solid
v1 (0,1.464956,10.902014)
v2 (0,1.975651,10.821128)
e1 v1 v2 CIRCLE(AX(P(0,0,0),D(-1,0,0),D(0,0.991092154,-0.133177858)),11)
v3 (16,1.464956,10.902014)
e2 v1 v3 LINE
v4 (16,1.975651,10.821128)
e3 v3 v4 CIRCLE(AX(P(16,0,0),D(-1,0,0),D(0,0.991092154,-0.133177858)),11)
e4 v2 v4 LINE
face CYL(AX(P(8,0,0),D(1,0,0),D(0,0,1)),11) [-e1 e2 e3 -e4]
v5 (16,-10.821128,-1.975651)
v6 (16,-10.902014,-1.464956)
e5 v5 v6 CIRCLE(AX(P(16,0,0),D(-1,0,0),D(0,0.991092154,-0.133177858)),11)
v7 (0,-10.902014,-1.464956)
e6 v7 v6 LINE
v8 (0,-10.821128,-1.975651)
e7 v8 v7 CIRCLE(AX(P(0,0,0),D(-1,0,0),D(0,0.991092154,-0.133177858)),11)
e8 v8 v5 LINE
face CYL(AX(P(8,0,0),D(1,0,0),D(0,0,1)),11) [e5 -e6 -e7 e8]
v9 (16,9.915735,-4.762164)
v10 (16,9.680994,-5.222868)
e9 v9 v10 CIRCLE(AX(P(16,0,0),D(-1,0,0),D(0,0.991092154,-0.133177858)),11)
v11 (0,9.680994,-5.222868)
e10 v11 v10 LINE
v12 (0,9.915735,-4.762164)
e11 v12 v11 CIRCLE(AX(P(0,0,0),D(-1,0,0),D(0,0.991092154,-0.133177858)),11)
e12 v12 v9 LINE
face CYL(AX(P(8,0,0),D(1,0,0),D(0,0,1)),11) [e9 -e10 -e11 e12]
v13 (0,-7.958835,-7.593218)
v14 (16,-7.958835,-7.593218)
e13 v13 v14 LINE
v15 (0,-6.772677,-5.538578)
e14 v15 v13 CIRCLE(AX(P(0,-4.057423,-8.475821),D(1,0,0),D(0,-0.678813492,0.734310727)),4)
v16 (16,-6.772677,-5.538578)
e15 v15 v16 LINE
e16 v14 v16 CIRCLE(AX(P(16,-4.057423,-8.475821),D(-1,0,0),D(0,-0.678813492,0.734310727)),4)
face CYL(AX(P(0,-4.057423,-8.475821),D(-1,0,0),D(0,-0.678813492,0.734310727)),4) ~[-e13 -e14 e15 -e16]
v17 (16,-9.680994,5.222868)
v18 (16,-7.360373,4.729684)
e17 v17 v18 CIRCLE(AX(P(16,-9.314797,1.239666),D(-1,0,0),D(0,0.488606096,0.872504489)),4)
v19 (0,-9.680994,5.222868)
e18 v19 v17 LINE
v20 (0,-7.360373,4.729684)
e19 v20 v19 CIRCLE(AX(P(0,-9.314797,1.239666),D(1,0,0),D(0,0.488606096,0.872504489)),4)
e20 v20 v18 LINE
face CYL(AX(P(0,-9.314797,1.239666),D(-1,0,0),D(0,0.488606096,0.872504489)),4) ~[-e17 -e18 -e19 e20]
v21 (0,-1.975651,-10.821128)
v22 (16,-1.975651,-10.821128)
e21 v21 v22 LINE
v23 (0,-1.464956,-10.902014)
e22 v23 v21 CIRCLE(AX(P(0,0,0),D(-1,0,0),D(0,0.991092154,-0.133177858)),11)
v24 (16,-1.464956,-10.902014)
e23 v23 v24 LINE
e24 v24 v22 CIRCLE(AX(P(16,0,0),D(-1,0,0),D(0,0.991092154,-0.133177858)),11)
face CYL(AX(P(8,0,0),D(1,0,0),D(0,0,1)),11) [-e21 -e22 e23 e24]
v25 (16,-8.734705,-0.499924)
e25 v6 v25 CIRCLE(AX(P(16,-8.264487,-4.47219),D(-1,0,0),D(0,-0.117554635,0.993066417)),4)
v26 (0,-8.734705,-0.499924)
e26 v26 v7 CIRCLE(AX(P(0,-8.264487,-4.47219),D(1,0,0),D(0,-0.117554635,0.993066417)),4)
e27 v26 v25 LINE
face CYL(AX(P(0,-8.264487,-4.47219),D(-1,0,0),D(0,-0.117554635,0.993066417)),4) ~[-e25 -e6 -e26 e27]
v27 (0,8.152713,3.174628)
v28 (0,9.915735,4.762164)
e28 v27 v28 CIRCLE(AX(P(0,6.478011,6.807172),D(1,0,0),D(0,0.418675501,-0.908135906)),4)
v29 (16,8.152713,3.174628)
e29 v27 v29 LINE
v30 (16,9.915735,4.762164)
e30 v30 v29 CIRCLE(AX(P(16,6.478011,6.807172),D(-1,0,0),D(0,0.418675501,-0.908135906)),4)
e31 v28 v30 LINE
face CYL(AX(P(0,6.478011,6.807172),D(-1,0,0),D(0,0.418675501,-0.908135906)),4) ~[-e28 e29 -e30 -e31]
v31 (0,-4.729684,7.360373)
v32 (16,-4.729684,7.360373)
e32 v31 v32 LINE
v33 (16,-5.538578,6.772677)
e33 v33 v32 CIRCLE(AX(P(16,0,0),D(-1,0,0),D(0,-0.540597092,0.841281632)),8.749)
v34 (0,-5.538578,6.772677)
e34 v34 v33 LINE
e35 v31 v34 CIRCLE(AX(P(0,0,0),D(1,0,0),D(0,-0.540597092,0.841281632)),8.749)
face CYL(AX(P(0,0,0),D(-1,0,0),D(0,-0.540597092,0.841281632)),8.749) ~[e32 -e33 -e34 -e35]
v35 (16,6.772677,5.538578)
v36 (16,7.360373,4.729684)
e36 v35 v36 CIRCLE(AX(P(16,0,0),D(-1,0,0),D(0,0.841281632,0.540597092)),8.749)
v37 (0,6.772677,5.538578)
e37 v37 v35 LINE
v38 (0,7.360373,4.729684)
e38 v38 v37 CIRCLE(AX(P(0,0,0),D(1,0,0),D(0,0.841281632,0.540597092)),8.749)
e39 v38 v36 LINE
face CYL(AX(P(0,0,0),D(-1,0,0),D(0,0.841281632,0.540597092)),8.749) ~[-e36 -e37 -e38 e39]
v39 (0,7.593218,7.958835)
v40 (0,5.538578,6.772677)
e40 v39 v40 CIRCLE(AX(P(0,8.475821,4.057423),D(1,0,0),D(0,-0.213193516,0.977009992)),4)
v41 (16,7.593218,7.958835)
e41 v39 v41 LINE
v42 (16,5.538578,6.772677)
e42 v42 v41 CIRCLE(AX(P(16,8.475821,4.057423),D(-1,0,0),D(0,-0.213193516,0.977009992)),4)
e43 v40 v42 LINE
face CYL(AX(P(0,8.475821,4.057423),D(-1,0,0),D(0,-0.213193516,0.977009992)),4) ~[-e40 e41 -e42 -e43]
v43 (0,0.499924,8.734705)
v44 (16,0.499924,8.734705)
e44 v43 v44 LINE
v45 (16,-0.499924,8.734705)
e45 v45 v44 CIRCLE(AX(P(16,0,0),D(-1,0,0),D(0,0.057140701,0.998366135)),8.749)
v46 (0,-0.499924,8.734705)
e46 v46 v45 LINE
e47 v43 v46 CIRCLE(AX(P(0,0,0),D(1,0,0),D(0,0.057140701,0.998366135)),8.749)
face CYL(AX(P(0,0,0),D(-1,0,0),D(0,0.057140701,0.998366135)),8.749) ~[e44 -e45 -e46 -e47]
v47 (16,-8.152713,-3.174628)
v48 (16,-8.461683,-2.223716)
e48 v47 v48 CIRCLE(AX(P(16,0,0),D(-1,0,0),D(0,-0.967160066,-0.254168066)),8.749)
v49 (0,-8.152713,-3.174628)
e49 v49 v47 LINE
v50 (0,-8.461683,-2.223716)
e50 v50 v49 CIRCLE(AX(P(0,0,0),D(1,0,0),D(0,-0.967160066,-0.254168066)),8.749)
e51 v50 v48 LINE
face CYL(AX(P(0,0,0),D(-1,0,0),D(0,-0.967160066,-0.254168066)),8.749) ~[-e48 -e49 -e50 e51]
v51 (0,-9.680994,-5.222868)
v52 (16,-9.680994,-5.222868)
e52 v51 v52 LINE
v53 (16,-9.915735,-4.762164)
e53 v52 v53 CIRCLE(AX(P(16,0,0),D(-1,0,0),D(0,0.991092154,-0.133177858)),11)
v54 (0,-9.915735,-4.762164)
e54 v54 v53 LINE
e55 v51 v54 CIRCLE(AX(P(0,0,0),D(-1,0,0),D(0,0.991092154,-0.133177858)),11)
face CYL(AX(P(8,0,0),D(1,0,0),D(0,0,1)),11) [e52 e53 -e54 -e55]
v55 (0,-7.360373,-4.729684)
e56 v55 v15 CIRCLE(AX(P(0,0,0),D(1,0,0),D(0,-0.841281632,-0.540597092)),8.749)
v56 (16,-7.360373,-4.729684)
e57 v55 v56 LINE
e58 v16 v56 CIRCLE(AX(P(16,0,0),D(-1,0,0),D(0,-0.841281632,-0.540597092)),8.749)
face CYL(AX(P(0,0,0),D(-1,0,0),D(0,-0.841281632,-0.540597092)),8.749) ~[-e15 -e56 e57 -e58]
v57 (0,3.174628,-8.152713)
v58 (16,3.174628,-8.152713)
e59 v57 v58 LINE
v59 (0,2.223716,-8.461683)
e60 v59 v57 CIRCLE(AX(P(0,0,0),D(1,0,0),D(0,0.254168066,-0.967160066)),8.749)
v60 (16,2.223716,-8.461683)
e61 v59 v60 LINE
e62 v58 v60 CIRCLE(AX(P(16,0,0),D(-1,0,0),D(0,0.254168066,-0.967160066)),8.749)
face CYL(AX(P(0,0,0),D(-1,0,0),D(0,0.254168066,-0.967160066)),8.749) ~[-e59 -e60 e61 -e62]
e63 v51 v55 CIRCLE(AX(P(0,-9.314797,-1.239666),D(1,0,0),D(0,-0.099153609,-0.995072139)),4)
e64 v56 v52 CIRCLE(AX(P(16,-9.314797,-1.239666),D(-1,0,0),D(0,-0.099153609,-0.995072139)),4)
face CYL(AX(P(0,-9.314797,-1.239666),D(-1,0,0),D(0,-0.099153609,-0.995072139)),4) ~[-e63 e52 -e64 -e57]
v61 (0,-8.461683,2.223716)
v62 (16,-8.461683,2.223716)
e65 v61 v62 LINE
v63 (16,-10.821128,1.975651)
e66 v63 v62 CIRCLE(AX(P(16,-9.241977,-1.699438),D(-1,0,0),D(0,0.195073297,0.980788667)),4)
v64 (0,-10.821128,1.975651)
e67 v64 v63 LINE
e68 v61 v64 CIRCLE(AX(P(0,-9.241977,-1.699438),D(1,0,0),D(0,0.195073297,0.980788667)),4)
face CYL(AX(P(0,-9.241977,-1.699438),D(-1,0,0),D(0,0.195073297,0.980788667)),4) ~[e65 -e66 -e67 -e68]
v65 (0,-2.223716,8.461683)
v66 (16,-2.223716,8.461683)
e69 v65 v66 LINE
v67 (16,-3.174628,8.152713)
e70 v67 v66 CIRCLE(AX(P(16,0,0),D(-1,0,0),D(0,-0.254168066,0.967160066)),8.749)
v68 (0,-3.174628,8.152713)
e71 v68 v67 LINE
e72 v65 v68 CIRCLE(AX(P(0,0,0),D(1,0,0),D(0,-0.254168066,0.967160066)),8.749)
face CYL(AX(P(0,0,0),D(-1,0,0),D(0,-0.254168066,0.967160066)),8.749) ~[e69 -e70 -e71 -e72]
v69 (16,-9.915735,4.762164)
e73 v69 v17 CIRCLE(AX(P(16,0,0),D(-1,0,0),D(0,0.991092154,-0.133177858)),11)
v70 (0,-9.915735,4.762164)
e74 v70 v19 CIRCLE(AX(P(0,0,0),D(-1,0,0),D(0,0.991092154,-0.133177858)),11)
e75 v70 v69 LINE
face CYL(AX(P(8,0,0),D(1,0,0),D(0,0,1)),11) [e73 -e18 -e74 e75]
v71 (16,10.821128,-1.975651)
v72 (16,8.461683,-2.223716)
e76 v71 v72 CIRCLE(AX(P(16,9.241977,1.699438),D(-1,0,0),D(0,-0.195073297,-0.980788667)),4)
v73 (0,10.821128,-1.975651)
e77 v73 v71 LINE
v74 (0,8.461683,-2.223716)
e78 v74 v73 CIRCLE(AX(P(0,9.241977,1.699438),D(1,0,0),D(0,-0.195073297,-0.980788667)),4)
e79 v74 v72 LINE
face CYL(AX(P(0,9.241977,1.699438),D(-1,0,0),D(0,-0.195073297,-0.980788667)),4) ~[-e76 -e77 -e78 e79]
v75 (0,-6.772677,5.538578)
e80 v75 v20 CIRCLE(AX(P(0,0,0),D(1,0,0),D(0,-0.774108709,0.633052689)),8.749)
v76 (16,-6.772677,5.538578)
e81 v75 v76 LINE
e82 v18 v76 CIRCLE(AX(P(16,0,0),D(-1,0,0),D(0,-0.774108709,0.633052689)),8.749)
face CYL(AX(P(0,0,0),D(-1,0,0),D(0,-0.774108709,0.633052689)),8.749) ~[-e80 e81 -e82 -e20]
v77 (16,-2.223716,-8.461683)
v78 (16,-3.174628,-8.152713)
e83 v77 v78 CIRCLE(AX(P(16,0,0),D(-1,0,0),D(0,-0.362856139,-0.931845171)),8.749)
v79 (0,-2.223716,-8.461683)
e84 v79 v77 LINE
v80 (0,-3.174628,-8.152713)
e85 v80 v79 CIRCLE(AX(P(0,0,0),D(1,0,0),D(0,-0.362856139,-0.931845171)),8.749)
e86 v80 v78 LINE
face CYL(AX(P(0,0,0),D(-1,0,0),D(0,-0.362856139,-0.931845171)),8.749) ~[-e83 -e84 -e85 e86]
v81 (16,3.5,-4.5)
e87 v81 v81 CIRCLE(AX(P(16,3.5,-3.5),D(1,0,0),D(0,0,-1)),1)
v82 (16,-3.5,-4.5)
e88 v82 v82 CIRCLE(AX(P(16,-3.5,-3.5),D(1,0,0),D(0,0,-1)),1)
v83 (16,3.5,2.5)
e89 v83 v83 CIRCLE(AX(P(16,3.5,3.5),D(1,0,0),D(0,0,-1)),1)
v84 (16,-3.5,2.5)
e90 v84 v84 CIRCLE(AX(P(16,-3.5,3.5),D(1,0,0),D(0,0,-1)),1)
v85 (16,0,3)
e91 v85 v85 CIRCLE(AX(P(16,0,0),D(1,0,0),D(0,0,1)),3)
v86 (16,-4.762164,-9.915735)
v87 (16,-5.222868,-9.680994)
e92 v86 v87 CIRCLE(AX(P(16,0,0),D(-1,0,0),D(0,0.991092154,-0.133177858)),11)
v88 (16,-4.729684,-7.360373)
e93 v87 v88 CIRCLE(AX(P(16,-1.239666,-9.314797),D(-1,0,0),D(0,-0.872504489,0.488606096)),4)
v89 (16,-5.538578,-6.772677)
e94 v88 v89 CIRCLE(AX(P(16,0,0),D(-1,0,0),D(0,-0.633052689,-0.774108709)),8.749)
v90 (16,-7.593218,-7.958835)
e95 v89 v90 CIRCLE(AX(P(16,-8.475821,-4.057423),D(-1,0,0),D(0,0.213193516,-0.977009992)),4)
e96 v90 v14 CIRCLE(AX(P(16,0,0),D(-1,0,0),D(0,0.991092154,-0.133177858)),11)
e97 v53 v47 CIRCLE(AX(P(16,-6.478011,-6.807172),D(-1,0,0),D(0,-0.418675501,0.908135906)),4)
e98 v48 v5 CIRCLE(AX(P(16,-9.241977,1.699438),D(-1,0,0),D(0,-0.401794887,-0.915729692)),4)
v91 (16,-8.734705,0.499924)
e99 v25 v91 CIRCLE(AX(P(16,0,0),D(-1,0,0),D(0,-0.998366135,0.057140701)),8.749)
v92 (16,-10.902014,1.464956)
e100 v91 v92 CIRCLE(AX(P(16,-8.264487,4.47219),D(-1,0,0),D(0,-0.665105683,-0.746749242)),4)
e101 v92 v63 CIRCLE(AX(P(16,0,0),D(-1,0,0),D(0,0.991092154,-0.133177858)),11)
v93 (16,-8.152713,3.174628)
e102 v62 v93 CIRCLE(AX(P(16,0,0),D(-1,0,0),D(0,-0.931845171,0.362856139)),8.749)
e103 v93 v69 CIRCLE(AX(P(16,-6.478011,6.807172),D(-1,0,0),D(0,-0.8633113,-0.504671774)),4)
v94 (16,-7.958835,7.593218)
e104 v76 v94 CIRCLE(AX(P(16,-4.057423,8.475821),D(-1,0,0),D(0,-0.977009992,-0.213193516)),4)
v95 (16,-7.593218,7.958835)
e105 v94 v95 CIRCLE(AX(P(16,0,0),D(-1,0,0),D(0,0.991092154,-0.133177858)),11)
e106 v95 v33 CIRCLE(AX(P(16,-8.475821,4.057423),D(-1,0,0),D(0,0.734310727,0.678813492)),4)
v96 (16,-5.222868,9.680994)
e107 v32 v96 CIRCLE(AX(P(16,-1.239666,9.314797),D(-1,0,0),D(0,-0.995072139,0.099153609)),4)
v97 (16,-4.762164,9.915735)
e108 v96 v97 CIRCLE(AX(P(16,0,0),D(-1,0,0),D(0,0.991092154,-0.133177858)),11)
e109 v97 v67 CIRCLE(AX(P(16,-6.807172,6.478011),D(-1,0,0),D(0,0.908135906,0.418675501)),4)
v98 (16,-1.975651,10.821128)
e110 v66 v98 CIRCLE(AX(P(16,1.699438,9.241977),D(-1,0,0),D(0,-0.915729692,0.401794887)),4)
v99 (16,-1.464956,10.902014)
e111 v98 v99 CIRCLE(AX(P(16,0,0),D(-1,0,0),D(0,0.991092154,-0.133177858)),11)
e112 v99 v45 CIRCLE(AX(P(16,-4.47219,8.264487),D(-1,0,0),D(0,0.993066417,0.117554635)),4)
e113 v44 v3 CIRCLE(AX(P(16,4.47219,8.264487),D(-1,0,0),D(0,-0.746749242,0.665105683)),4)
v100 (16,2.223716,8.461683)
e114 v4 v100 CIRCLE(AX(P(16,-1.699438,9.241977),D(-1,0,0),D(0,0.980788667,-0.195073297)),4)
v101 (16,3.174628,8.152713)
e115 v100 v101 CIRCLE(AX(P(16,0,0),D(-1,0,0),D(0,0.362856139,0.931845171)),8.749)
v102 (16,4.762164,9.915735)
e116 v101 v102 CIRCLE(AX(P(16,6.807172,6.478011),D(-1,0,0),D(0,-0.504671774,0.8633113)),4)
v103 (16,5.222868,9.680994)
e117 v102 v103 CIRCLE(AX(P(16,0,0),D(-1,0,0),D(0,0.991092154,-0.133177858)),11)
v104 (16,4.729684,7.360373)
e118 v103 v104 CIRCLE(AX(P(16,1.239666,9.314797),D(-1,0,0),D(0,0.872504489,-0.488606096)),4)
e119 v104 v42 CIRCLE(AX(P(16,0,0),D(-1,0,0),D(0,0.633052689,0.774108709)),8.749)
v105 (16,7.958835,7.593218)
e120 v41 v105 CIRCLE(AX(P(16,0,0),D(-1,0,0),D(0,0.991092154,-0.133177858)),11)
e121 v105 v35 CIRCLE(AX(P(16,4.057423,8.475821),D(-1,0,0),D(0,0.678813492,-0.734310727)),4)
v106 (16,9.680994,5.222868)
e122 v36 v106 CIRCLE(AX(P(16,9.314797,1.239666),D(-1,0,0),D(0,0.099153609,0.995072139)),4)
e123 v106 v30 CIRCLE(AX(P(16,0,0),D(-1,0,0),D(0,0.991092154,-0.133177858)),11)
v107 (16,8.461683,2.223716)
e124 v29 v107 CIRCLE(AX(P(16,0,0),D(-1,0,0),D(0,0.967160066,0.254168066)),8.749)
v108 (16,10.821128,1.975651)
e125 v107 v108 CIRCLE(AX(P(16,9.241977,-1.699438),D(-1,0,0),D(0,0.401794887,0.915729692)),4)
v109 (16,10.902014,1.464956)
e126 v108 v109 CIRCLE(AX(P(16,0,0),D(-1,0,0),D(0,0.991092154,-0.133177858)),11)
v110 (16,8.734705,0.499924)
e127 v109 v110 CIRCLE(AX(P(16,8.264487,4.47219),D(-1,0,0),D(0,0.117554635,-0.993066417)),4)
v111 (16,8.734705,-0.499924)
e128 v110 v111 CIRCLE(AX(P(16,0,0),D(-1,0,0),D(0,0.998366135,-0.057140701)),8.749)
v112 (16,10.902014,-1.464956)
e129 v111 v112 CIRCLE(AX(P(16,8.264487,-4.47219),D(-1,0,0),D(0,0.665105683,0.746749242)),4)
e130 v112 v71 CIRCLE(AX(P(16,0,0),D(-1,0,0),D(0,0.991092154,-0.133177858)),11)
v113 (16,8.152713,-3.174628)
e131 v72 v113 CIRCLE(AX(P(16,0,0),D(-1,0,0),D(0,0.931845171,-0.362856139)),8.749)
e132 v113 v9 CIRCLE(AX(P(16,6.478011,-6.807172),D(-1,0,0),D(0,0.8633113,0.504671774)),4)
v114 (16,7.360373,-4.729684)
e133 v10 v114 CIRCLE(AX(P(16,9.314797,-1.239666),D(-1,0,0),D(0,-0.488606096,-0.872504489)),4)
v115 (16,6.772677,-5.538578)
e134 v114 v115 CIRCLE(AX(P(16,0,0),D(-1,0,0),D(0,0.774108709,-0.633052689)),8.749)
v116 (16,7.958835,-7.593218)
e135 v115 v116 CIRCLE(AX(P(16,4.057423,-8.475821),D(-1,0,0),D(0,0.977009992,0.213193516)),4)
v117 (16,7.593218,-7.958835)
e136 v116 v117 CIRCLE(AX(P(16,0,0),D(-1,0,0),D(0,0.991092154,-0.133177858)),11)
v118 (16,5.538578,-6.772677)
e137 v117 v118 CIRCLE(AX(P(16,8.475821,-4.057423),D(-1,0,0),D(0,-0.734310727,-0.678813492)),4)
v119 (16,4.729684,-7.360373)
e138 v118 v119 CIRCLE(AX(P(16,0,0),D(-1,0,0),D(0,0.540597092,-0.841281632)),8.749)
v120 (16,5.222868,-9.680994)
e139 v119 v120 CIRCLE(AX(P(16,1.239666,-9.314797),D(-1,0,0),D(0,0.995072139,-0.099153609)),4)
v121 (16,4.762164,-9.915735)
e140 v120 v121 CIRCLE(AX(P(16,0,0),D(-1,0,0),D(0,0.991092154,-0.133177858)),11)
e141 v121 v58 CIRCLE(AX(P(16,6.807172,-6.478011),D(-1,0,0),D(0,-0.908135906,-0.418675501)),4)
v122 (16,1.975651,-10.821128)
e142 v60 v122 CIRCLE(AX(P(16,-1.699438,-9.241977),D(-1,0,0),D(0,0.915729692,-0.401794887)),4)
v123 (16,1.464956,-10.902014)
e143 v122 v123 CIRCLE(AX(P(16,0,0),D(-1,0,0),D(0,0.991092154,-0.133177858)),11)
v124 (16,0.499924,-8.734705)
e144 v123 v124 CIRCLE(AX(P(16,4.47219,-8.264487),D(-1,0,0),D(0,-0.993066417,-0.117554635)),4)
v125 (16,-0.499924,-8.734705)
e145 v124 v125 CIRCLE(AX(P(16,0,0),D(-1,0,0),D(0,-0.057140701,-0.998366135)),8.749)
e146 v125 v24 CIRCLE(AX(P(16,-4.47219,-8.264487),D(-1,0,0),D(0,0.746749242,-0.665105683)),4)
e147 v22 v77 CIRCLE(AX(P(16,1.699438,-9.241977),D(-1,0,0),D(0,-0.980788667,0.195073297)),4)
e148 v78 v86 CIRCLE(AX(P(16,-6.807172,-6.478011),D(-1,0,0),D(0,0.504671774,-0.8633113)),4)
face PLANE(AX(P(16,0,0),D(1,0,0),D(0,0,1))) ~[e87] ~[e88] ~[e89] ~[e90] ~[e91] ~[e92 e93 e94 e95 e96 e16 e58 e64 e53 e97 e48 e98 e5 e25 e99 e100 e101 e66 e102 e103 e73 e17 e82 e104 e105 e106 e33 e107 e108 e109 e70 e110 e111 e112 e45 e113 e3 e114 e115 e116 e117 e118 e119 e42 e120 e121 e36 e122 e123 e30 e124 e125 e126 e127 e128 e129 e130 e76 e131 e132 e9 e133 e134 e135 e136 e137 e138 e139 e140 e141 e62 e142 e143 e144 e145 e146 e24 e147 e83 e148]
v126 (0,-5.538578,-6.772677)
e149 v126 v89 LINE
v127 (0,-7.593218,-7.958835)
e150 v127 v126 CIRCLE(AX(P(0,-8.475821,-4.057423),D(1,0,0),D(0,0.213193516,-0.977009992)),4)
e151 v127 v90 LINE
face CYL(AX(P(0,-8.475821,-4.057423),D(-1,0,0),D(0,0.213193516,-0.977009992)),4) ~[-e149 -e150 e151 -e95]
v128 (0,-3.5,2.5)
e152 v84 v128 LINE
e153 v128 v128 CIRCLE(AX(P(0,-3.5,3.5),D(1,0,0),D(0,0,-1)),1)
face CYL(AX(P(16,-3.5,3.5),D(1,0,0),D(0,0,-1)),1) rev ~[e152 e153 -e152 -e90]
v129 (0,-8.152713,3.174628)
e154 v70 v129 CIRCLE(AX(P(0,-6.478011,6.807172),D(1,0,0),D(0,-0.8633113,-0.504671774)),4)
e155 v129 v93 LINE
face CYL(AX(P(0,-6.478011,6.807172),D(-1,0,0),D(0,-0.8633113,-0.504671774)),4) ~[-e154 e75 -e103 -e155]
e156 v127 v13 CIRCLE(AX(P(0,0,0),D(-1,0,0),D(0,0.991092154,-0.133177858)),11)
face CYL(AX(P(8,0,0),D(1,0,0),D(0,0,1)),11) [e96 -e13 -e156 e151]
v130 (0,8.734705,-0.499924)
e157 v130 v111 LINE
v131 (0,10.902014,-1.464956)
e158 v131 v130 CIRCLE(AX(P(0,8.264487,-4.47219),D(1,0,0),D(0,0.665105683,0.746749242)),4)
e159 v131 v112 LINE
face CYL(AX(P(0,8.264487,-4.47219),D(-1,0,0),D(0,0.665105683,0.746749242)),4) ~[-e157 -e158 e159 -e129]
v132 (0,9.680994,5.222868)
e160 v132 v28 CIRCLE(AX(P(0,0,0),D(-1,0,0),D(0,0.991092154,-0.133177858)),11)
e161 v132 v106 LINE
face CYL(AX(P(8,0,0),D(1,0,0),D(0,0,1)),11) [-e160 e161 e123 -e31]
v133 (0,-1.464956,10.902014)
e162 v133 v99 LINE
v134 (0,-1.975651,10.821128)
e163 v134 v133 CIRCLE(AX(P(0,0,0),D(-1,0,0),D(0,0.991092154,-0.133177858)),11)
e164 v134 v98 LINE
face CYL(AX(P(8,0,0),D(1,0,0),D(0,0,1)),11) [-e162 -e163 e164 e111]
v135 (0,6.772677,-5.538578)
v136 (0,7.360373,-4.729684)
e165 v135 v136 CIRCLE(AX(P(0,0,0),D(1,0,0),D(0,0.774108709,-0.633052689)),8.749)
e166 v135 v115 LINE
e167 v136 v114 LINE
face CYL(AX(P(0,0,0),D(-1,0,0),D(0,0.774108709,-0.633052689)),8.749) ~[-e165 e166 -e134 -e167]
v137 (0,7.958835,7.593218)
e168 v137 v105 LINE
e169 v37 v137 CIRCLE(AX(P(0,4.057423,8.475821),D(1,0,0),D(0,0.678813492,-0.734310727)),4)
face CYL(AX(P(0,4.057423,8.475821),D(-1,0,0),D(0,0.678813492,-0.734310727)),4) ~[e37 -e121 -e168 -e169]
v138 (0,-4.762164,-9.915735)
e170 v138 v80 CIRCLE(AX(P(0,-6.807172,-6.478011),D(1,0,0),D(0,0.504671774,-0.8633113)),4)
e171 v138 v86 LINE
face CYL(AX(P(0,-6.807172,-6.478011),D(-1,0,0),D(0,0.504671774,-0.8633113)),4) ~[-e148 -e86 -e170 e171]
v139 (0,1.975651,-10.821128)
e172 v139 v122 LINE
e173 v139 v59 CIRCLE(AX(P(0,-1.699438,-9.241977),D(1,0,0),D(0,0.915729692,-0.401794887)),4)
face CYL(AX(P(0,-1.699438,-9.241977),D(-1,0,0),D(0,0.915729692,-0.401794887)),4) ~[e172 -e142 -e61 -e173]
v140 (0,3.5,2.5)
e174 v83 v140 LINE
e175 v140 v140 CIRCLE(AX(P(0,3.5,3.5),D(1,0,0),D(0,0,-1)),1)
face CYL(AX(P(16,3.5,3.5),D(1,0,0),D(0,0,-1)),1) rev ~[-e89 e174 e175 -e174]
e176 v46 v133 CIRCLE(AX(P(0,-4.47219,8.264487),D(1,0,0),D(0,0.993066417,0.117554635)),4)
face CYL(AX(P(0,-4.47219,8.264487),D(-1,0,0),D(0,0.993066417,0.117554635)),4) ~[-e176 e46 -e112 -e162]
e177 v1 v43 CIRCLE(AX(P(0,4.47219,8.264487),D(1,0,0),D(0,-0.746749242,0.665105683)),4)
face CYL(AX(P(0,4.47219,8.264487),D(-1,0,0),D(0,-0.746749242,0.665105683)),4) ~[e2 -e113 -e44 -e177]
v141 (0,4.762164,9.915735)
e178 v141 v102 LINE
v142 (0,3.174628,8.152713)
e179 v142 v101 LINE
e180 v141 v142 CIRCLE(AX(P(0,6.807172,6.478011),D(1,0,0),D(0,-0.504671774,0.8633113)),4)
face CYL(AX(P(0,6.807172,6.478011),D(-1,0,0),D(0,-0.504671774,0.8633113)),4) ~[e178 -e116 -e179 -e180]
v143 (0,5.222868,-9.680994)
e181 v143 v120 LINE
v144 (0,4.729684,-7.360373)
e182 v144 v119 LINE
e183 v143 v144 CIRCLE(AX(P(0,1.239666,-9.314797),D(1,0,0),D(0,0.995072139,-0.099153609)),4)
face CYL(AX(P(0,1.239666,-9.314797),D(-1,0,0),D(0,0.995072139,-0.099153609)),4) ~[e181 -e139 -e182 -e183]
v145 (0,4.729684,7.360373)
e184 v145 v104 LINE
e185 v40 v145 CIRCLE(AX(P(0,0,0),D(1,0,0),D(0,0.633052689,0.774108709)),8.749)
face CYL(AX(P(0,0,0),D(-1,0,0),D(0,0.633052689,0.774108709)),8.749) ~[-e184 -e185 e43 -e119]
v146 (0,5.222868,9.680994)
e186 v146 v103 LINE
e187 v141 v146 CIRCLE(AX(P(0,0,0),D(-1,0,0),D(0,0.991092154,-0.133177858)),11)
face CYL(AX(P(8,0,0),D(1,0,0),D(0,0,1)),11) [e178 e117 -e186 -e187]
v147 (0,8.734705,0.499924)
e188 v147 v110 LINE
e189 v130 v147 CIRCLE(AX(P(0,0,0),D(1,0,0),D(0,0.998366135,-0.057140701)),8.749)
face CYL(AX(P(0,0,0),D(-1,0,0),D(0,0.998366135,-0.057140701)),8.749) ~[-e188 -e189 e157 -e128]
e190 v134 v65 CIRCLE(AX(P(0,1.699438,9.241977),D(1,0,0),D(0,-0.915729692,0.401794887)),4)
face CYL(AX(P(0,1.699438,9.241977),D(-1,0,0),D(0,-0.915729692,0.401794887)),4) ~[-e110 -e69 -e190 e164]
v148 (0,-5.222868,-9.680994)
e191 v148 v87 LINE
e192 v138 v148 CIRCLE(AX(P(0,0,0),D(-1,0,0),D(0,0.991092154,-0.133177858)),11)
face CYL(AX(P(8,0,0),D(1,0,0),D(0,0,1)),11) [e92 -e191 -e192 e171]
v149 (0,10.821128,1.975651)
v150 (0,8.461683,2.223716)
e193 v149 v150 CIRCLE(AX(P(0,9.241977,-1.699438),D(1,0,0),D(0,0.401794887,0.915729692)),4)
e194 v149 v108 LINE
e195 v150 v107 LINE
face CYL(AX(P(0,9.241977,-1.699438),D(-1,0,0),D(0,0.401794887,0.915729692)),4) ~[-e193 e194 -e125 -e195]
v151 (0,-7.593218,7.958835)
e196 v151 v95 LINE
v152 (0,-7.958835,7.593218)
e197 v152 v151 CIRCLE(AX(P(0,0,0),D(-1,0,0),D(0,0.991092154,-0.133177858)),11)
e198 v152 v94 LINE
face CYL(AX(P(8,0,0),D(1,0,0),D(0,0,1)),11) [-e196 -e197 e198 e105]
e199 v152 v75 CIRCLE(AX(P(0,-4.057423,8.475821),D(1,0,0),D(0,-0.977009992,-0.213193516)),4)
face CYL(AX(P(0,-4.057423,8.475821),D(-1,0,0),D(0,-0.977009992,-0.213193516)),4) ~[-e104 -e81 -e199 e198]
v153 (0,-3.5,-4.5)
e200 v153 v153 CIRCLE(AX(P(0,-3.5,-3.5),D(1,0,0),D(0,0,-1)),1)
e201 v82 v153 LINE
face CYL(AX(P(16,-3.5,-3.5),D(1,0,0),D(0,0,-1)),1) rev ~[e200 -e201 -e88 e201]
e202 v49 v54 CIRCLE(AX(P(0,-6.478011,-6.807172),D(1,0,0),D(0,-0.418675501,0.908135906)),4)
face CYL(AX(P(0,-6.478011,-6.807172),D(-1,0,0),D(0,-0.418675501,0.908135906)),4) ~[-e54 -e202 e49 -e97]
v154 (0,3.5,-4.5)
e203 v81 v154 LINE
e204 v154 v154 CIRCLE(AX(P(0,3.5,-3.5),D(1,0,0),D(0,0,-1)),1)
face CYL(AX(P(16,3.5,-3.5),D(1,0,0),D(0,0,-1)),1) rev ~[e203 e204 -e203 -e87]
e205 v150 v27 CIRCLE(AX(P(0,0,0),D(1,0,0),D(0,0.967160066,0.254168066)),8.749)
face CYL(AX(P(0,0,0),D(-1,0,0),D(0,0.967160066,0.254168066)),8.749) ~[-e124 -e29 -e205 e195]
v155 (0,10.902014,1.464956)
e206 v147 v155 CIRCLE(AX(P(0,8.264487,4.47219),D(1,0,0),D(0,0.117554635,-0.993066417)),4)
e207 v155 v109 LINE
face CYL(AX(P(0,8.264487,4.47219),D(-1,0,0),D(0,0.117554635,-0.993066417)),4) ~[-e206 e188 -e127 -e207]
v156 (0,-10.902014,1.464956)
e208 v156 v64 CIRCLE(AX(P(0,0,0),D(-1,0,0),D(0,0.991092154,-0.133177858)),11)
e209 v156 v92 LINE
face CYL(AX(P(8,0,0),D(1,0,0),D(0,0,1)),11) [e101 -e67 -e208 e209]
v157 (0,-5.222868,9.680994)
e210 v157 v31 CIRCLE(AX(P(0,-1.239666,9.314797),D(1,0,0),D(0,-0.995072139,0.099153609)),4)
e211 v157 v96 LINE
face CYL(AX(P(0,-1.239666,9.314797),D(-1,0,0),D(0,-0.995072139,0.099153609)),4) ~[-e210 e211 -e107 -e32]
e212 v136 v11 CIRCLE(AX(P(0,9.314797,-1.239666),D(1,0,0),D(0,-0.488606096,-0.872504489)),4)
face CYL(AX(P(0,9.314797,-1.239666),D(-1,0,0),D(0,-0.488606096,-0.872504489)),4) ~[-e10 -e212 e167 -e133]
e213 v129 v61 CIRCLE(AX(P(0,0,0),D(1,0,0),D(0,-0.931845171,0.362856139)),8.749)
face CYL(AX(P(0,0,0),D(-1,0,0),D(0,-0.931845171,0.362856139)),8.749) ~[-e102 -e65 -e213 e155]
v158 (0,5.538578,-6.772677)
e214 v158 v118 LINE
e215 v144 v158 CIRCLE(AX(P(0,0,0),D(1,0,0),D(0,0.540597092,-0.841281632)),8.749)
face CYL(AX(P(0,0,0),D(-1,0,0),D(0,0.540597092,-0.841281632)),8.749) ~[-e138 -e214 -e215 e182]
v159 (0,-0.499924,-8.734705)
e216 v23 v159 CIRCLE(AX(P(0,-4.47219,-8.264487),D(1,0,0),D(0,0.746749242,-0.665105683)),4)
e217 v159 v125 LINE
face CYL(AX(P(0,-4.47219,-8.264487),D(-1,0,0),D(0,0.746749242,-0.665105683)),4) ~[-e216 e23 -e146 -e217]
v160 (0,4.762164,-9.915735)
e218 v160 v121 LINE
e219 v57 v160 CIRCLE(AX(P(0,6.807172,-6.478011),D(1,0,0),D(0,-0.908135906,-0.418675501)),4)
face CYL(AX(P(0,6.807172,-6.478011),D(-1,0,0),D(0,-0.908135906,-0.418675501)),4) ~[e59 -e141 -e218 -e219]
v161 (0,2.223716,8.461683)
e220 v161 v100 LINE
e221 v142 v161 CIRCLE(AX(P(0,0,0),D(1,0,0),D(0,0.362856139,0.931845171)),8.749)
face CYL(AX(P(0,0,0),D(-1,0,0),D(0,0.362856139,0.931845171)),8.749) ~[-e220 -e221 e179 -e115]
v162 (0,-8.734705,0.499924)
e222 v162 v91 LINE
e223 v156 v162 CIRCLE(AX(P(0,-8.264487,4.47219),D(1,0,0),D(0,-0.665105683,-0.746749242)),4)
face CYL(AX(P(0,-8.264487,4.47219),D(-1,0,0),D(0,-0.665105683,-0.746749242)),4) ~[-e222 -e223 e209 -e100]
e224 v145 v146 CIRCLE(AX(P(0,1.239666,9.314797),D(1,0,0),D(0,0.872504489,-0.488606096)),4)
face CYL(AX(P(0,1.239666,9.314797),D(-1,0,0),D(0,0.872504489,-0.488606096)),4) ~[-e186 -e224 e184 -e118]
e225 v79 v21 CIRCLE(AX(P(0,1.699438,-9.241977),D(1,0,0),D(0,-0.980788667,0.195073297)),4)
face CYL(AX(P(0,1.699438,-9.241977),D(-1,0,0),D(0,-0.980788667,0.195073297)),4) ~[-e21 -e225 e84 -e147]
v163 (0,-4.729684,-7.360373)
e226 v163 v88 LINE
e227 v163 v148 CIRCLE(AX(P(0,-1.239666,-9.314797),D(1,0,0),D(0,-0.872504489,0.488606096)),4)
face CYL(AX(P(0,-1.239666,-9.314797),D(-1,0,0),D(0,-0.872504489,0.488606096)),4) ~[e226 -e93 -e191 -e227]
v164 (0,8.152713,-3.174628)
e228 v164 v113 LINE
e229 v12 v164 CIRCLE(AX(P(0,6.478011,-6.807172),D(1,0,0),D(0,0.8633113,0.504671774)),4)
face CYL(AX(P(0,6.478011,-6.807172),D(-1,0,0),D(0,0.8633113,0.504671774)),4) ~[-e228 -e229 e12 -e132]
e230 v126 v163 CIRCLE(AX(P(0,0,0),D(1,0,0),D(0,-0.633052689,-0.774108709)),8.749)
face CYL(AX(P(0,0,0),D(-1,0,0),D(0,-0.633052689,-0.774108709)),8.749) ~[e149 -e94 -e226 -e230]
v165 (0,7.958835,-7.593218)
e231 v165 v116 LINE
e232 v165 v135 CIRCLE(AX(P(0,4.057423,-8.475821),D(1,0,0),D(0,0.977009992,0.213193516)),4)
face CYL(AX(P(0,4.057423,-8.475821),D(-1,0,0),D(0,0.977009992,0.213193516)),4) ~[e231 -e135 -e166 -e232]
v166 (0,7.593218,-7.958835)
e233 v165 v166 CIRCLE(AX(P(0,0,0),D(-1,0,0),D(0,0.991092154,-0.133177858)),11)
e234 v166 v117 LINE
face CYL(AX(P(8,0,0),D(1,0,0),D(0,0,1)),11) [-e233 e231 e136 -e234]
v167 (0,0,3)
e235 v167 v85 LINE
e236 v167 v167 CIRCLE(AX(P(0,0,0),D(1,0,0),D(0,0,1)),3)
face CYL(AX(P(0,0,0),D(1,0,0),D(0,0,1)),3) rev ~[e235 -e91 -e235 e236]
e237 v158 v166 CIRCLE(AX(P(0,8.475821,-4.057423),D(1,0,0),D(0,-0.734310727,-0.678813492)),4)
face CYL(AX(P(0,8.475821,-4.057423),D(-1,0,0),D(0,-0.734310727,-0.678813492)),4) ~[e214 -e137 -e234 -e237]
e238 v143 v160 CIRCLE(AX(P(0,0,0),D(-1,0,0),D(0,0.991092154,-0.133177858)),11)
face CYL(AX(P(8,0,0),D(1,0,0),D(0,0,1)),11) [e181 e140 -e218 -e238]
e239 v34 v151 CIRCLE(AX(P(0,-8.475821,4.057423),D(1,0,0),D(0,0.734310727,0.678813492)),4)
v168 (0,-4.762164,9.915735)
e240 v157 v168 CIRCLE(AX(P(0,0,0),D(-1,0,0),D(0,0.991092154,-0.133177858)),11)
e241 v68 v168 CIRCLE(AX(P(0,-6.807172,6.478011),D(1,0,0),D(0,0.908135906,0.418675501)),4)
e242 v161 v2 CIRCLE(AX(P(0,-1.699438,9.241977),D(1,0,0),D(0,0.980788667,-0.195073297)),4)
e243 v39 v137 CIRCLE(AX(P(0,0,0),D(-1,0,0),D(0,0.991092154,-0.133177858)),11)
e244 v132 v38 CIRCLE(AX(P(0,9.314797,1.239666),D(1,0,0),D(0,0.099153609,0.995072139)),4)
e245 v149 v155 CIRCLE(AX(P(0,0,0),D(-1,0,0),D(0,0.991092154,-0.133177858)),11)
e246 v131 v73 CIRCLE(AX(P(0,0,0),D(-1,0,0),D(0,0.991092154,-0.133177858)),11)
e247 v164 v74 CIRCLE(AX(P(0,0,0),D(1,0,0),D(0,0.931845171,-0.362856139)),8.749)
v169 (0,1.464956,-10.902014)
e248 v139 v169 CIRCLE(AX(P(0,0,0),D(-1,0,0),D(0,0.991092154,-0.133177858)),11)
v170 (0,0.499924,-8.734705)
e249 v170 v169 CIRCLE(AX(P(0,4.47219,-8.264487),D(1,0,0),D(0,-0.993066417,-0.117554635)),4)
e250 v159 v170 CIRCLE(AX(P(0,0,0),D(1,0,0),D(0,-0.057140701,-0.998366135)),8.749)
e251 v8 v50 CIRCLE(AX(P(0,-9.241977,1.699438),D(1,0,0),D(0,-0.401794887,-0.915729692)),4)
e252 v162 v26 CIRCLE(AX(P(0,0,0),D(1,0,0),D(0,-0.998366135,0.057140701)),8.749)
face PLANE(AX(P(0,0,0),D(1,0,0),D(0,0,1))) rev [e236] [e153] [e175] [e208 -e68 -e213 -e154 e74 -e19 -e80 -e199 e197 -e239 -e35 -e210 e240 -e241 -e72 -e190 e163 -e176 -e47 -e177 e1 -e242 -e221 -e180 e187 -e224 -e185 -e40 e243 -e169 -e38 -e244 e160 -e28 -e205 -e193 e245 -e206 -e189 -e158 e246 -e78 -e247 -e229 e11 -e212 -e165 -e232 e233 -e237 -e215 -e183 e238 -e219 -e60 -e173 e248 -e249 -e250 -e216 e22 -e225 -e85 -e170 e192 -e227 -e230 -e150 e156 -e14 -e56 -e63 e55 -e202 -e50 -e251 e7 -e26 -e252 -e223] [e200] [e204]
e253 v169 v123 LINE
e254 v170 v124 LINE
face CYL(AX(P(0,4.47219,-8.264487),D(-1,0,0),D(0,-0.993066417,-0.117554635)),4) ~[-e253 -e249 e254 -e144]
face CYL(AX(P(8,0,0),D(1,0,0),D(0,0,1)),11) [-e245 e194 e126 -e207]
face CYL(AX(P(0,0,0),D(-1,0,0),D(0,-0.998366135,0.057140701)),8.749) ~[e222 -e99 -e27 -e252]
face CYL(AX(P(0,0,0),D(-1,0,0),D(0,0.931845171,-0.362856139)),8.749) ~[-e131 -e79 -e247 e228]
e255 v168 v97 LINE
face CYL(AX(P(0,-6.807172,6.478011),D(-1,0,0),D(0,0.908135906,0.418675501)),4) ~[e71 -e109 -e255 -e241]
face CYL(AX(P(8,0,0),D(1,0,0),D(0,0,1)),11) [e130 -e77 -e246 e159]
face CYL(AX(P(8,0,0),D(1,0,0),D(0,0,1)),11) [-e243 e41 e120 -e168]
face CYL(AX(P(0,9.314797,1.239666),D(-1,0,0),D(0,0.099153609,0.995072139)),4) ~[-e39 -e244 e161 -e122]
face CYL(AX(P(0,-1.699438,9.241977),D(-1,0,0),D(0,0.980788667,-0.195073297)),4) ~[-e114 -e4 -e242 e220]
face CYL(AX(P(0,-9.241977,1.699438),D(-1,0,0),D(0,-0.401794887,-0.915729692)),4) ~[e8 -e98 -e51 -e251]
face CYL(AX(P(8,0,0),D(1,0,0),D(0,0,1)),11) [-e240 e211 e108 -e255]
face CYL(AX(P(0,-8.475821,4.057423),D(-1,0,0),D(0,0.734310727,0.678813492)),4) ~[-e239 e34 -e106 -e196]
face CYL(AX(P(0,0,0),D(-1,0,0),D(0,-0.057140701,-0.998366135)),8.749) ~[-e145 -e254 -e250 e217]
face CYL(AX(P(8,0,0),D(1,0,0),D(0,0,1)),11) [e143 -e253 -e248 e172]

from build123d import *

# Parameters (mm, degrees)
BASPROSKE_W        = 16
BASPROSKE_H        = 11
SKETCH1_R          = 1
CUT_EXTRUDE1_DEPTH = 30
TOOTHCUT_DEPTH     = 23.315913604
TEETHCUTS_COUNT    = 20
TEETHCUTS_ANGLE    = 342
BORSKE_R           = 3
BORE_DEPTH         = 50.0000508


with BuildPart() as part:
    # BasProSke → Base-Revolve (revolve)
    with BuildSketch(Plane(origin=(0, 0, 0), x_dir=(1, 0, 0), z_dir=(0, 1, 0)), mode=Mode.PRIVATE) as base_revolve_sk:
        with Locations((8, 5.5)):
            Rectangle(BASPROSKE_W, BASPROSKE_H)
    revolve(base_revolve_sk.sketch.rotate(Axis((-10, 0, 0), (1, 0, 0)), 180), axis=Axis((-10, 0, 0), (1, 0, 0)))

    # Sketch1 → Cut-Extrude1 (cut)
    with BuildSketch(Plane(origin=(16, 0, 0), x_dir=(0, 0, -1), z_dir=(1, 0, 0))):
        with Locations((3.5, 3.5)):
            Circle(SKETCH1_R)
        with Locations((-3.5, 3.5)):
            Circle(SKETCH1_R)
        with Locations((-3.5, -3.5)):
            Circle(SKETCH1_R)
        with Locations((3.5, -3.5)):
            Circle(SKETCH1_R)
    extrude(amount=-CUT_EXTRUDE1_DEPTH, mode=Mode.SUBTRACT)

    # TooCutSke → ToothCut (cut, through all)
    with BuildSketch(Plane(origin=(0, 0, 0), x_dir=(0, 0, -1), z_dir=(1, 0, 0))):
        with BuildLine():
            ThreePointArc((0.499924007, 8.734705318), (0, 8.749), (-0.499924007, 8.734705318))
            ThreePointArc((-0.499924007, 8.734705318), (-0.824302243, 9.905497836), (-1.485192705, 10.924909509))
            ThreePointArc((-1.485192705, 10.924909509), (0, 11.0254), (1.485192705, 10.924909509))
            ThreePointArc((1.485192705, 10.924909509), (0.824302243, 9.905497836), (0.499924007, 8.734705318))
        make_face()
    toothcut = extrude(amount=TOOTHCUT_DEPTH, mode=Mode.SUBTRACT)

    # TeethCuts: ToothCut ×20 about axis
    teethcuts_axis = Axis((-10, 0, 0), (1, 0, 0))
    for i in range(1, TEETHCUTS_COUNT):
        add(toothcut.rotate(teethcuts_axis, i * TEETHCUTS_ANGLE / (TEETHCUTS_COUNT - 1)), mode=Mode.SUBTRACT)

    # BorSke → Bore (cut, symmetric)
    with BuildSketch(Plane(origin=(0, 0, 0), x_dir=(0, 0, -1), z_dir=(1, 0, 0))):
        with Locations(Location((0, 0, 0), (0, 0, 180))):
            Circle(BORSKE_R)
    extrude(amount=BORE_DEPTH, both=True, mode=Mode.SUBTRACT)


solid = part.part
